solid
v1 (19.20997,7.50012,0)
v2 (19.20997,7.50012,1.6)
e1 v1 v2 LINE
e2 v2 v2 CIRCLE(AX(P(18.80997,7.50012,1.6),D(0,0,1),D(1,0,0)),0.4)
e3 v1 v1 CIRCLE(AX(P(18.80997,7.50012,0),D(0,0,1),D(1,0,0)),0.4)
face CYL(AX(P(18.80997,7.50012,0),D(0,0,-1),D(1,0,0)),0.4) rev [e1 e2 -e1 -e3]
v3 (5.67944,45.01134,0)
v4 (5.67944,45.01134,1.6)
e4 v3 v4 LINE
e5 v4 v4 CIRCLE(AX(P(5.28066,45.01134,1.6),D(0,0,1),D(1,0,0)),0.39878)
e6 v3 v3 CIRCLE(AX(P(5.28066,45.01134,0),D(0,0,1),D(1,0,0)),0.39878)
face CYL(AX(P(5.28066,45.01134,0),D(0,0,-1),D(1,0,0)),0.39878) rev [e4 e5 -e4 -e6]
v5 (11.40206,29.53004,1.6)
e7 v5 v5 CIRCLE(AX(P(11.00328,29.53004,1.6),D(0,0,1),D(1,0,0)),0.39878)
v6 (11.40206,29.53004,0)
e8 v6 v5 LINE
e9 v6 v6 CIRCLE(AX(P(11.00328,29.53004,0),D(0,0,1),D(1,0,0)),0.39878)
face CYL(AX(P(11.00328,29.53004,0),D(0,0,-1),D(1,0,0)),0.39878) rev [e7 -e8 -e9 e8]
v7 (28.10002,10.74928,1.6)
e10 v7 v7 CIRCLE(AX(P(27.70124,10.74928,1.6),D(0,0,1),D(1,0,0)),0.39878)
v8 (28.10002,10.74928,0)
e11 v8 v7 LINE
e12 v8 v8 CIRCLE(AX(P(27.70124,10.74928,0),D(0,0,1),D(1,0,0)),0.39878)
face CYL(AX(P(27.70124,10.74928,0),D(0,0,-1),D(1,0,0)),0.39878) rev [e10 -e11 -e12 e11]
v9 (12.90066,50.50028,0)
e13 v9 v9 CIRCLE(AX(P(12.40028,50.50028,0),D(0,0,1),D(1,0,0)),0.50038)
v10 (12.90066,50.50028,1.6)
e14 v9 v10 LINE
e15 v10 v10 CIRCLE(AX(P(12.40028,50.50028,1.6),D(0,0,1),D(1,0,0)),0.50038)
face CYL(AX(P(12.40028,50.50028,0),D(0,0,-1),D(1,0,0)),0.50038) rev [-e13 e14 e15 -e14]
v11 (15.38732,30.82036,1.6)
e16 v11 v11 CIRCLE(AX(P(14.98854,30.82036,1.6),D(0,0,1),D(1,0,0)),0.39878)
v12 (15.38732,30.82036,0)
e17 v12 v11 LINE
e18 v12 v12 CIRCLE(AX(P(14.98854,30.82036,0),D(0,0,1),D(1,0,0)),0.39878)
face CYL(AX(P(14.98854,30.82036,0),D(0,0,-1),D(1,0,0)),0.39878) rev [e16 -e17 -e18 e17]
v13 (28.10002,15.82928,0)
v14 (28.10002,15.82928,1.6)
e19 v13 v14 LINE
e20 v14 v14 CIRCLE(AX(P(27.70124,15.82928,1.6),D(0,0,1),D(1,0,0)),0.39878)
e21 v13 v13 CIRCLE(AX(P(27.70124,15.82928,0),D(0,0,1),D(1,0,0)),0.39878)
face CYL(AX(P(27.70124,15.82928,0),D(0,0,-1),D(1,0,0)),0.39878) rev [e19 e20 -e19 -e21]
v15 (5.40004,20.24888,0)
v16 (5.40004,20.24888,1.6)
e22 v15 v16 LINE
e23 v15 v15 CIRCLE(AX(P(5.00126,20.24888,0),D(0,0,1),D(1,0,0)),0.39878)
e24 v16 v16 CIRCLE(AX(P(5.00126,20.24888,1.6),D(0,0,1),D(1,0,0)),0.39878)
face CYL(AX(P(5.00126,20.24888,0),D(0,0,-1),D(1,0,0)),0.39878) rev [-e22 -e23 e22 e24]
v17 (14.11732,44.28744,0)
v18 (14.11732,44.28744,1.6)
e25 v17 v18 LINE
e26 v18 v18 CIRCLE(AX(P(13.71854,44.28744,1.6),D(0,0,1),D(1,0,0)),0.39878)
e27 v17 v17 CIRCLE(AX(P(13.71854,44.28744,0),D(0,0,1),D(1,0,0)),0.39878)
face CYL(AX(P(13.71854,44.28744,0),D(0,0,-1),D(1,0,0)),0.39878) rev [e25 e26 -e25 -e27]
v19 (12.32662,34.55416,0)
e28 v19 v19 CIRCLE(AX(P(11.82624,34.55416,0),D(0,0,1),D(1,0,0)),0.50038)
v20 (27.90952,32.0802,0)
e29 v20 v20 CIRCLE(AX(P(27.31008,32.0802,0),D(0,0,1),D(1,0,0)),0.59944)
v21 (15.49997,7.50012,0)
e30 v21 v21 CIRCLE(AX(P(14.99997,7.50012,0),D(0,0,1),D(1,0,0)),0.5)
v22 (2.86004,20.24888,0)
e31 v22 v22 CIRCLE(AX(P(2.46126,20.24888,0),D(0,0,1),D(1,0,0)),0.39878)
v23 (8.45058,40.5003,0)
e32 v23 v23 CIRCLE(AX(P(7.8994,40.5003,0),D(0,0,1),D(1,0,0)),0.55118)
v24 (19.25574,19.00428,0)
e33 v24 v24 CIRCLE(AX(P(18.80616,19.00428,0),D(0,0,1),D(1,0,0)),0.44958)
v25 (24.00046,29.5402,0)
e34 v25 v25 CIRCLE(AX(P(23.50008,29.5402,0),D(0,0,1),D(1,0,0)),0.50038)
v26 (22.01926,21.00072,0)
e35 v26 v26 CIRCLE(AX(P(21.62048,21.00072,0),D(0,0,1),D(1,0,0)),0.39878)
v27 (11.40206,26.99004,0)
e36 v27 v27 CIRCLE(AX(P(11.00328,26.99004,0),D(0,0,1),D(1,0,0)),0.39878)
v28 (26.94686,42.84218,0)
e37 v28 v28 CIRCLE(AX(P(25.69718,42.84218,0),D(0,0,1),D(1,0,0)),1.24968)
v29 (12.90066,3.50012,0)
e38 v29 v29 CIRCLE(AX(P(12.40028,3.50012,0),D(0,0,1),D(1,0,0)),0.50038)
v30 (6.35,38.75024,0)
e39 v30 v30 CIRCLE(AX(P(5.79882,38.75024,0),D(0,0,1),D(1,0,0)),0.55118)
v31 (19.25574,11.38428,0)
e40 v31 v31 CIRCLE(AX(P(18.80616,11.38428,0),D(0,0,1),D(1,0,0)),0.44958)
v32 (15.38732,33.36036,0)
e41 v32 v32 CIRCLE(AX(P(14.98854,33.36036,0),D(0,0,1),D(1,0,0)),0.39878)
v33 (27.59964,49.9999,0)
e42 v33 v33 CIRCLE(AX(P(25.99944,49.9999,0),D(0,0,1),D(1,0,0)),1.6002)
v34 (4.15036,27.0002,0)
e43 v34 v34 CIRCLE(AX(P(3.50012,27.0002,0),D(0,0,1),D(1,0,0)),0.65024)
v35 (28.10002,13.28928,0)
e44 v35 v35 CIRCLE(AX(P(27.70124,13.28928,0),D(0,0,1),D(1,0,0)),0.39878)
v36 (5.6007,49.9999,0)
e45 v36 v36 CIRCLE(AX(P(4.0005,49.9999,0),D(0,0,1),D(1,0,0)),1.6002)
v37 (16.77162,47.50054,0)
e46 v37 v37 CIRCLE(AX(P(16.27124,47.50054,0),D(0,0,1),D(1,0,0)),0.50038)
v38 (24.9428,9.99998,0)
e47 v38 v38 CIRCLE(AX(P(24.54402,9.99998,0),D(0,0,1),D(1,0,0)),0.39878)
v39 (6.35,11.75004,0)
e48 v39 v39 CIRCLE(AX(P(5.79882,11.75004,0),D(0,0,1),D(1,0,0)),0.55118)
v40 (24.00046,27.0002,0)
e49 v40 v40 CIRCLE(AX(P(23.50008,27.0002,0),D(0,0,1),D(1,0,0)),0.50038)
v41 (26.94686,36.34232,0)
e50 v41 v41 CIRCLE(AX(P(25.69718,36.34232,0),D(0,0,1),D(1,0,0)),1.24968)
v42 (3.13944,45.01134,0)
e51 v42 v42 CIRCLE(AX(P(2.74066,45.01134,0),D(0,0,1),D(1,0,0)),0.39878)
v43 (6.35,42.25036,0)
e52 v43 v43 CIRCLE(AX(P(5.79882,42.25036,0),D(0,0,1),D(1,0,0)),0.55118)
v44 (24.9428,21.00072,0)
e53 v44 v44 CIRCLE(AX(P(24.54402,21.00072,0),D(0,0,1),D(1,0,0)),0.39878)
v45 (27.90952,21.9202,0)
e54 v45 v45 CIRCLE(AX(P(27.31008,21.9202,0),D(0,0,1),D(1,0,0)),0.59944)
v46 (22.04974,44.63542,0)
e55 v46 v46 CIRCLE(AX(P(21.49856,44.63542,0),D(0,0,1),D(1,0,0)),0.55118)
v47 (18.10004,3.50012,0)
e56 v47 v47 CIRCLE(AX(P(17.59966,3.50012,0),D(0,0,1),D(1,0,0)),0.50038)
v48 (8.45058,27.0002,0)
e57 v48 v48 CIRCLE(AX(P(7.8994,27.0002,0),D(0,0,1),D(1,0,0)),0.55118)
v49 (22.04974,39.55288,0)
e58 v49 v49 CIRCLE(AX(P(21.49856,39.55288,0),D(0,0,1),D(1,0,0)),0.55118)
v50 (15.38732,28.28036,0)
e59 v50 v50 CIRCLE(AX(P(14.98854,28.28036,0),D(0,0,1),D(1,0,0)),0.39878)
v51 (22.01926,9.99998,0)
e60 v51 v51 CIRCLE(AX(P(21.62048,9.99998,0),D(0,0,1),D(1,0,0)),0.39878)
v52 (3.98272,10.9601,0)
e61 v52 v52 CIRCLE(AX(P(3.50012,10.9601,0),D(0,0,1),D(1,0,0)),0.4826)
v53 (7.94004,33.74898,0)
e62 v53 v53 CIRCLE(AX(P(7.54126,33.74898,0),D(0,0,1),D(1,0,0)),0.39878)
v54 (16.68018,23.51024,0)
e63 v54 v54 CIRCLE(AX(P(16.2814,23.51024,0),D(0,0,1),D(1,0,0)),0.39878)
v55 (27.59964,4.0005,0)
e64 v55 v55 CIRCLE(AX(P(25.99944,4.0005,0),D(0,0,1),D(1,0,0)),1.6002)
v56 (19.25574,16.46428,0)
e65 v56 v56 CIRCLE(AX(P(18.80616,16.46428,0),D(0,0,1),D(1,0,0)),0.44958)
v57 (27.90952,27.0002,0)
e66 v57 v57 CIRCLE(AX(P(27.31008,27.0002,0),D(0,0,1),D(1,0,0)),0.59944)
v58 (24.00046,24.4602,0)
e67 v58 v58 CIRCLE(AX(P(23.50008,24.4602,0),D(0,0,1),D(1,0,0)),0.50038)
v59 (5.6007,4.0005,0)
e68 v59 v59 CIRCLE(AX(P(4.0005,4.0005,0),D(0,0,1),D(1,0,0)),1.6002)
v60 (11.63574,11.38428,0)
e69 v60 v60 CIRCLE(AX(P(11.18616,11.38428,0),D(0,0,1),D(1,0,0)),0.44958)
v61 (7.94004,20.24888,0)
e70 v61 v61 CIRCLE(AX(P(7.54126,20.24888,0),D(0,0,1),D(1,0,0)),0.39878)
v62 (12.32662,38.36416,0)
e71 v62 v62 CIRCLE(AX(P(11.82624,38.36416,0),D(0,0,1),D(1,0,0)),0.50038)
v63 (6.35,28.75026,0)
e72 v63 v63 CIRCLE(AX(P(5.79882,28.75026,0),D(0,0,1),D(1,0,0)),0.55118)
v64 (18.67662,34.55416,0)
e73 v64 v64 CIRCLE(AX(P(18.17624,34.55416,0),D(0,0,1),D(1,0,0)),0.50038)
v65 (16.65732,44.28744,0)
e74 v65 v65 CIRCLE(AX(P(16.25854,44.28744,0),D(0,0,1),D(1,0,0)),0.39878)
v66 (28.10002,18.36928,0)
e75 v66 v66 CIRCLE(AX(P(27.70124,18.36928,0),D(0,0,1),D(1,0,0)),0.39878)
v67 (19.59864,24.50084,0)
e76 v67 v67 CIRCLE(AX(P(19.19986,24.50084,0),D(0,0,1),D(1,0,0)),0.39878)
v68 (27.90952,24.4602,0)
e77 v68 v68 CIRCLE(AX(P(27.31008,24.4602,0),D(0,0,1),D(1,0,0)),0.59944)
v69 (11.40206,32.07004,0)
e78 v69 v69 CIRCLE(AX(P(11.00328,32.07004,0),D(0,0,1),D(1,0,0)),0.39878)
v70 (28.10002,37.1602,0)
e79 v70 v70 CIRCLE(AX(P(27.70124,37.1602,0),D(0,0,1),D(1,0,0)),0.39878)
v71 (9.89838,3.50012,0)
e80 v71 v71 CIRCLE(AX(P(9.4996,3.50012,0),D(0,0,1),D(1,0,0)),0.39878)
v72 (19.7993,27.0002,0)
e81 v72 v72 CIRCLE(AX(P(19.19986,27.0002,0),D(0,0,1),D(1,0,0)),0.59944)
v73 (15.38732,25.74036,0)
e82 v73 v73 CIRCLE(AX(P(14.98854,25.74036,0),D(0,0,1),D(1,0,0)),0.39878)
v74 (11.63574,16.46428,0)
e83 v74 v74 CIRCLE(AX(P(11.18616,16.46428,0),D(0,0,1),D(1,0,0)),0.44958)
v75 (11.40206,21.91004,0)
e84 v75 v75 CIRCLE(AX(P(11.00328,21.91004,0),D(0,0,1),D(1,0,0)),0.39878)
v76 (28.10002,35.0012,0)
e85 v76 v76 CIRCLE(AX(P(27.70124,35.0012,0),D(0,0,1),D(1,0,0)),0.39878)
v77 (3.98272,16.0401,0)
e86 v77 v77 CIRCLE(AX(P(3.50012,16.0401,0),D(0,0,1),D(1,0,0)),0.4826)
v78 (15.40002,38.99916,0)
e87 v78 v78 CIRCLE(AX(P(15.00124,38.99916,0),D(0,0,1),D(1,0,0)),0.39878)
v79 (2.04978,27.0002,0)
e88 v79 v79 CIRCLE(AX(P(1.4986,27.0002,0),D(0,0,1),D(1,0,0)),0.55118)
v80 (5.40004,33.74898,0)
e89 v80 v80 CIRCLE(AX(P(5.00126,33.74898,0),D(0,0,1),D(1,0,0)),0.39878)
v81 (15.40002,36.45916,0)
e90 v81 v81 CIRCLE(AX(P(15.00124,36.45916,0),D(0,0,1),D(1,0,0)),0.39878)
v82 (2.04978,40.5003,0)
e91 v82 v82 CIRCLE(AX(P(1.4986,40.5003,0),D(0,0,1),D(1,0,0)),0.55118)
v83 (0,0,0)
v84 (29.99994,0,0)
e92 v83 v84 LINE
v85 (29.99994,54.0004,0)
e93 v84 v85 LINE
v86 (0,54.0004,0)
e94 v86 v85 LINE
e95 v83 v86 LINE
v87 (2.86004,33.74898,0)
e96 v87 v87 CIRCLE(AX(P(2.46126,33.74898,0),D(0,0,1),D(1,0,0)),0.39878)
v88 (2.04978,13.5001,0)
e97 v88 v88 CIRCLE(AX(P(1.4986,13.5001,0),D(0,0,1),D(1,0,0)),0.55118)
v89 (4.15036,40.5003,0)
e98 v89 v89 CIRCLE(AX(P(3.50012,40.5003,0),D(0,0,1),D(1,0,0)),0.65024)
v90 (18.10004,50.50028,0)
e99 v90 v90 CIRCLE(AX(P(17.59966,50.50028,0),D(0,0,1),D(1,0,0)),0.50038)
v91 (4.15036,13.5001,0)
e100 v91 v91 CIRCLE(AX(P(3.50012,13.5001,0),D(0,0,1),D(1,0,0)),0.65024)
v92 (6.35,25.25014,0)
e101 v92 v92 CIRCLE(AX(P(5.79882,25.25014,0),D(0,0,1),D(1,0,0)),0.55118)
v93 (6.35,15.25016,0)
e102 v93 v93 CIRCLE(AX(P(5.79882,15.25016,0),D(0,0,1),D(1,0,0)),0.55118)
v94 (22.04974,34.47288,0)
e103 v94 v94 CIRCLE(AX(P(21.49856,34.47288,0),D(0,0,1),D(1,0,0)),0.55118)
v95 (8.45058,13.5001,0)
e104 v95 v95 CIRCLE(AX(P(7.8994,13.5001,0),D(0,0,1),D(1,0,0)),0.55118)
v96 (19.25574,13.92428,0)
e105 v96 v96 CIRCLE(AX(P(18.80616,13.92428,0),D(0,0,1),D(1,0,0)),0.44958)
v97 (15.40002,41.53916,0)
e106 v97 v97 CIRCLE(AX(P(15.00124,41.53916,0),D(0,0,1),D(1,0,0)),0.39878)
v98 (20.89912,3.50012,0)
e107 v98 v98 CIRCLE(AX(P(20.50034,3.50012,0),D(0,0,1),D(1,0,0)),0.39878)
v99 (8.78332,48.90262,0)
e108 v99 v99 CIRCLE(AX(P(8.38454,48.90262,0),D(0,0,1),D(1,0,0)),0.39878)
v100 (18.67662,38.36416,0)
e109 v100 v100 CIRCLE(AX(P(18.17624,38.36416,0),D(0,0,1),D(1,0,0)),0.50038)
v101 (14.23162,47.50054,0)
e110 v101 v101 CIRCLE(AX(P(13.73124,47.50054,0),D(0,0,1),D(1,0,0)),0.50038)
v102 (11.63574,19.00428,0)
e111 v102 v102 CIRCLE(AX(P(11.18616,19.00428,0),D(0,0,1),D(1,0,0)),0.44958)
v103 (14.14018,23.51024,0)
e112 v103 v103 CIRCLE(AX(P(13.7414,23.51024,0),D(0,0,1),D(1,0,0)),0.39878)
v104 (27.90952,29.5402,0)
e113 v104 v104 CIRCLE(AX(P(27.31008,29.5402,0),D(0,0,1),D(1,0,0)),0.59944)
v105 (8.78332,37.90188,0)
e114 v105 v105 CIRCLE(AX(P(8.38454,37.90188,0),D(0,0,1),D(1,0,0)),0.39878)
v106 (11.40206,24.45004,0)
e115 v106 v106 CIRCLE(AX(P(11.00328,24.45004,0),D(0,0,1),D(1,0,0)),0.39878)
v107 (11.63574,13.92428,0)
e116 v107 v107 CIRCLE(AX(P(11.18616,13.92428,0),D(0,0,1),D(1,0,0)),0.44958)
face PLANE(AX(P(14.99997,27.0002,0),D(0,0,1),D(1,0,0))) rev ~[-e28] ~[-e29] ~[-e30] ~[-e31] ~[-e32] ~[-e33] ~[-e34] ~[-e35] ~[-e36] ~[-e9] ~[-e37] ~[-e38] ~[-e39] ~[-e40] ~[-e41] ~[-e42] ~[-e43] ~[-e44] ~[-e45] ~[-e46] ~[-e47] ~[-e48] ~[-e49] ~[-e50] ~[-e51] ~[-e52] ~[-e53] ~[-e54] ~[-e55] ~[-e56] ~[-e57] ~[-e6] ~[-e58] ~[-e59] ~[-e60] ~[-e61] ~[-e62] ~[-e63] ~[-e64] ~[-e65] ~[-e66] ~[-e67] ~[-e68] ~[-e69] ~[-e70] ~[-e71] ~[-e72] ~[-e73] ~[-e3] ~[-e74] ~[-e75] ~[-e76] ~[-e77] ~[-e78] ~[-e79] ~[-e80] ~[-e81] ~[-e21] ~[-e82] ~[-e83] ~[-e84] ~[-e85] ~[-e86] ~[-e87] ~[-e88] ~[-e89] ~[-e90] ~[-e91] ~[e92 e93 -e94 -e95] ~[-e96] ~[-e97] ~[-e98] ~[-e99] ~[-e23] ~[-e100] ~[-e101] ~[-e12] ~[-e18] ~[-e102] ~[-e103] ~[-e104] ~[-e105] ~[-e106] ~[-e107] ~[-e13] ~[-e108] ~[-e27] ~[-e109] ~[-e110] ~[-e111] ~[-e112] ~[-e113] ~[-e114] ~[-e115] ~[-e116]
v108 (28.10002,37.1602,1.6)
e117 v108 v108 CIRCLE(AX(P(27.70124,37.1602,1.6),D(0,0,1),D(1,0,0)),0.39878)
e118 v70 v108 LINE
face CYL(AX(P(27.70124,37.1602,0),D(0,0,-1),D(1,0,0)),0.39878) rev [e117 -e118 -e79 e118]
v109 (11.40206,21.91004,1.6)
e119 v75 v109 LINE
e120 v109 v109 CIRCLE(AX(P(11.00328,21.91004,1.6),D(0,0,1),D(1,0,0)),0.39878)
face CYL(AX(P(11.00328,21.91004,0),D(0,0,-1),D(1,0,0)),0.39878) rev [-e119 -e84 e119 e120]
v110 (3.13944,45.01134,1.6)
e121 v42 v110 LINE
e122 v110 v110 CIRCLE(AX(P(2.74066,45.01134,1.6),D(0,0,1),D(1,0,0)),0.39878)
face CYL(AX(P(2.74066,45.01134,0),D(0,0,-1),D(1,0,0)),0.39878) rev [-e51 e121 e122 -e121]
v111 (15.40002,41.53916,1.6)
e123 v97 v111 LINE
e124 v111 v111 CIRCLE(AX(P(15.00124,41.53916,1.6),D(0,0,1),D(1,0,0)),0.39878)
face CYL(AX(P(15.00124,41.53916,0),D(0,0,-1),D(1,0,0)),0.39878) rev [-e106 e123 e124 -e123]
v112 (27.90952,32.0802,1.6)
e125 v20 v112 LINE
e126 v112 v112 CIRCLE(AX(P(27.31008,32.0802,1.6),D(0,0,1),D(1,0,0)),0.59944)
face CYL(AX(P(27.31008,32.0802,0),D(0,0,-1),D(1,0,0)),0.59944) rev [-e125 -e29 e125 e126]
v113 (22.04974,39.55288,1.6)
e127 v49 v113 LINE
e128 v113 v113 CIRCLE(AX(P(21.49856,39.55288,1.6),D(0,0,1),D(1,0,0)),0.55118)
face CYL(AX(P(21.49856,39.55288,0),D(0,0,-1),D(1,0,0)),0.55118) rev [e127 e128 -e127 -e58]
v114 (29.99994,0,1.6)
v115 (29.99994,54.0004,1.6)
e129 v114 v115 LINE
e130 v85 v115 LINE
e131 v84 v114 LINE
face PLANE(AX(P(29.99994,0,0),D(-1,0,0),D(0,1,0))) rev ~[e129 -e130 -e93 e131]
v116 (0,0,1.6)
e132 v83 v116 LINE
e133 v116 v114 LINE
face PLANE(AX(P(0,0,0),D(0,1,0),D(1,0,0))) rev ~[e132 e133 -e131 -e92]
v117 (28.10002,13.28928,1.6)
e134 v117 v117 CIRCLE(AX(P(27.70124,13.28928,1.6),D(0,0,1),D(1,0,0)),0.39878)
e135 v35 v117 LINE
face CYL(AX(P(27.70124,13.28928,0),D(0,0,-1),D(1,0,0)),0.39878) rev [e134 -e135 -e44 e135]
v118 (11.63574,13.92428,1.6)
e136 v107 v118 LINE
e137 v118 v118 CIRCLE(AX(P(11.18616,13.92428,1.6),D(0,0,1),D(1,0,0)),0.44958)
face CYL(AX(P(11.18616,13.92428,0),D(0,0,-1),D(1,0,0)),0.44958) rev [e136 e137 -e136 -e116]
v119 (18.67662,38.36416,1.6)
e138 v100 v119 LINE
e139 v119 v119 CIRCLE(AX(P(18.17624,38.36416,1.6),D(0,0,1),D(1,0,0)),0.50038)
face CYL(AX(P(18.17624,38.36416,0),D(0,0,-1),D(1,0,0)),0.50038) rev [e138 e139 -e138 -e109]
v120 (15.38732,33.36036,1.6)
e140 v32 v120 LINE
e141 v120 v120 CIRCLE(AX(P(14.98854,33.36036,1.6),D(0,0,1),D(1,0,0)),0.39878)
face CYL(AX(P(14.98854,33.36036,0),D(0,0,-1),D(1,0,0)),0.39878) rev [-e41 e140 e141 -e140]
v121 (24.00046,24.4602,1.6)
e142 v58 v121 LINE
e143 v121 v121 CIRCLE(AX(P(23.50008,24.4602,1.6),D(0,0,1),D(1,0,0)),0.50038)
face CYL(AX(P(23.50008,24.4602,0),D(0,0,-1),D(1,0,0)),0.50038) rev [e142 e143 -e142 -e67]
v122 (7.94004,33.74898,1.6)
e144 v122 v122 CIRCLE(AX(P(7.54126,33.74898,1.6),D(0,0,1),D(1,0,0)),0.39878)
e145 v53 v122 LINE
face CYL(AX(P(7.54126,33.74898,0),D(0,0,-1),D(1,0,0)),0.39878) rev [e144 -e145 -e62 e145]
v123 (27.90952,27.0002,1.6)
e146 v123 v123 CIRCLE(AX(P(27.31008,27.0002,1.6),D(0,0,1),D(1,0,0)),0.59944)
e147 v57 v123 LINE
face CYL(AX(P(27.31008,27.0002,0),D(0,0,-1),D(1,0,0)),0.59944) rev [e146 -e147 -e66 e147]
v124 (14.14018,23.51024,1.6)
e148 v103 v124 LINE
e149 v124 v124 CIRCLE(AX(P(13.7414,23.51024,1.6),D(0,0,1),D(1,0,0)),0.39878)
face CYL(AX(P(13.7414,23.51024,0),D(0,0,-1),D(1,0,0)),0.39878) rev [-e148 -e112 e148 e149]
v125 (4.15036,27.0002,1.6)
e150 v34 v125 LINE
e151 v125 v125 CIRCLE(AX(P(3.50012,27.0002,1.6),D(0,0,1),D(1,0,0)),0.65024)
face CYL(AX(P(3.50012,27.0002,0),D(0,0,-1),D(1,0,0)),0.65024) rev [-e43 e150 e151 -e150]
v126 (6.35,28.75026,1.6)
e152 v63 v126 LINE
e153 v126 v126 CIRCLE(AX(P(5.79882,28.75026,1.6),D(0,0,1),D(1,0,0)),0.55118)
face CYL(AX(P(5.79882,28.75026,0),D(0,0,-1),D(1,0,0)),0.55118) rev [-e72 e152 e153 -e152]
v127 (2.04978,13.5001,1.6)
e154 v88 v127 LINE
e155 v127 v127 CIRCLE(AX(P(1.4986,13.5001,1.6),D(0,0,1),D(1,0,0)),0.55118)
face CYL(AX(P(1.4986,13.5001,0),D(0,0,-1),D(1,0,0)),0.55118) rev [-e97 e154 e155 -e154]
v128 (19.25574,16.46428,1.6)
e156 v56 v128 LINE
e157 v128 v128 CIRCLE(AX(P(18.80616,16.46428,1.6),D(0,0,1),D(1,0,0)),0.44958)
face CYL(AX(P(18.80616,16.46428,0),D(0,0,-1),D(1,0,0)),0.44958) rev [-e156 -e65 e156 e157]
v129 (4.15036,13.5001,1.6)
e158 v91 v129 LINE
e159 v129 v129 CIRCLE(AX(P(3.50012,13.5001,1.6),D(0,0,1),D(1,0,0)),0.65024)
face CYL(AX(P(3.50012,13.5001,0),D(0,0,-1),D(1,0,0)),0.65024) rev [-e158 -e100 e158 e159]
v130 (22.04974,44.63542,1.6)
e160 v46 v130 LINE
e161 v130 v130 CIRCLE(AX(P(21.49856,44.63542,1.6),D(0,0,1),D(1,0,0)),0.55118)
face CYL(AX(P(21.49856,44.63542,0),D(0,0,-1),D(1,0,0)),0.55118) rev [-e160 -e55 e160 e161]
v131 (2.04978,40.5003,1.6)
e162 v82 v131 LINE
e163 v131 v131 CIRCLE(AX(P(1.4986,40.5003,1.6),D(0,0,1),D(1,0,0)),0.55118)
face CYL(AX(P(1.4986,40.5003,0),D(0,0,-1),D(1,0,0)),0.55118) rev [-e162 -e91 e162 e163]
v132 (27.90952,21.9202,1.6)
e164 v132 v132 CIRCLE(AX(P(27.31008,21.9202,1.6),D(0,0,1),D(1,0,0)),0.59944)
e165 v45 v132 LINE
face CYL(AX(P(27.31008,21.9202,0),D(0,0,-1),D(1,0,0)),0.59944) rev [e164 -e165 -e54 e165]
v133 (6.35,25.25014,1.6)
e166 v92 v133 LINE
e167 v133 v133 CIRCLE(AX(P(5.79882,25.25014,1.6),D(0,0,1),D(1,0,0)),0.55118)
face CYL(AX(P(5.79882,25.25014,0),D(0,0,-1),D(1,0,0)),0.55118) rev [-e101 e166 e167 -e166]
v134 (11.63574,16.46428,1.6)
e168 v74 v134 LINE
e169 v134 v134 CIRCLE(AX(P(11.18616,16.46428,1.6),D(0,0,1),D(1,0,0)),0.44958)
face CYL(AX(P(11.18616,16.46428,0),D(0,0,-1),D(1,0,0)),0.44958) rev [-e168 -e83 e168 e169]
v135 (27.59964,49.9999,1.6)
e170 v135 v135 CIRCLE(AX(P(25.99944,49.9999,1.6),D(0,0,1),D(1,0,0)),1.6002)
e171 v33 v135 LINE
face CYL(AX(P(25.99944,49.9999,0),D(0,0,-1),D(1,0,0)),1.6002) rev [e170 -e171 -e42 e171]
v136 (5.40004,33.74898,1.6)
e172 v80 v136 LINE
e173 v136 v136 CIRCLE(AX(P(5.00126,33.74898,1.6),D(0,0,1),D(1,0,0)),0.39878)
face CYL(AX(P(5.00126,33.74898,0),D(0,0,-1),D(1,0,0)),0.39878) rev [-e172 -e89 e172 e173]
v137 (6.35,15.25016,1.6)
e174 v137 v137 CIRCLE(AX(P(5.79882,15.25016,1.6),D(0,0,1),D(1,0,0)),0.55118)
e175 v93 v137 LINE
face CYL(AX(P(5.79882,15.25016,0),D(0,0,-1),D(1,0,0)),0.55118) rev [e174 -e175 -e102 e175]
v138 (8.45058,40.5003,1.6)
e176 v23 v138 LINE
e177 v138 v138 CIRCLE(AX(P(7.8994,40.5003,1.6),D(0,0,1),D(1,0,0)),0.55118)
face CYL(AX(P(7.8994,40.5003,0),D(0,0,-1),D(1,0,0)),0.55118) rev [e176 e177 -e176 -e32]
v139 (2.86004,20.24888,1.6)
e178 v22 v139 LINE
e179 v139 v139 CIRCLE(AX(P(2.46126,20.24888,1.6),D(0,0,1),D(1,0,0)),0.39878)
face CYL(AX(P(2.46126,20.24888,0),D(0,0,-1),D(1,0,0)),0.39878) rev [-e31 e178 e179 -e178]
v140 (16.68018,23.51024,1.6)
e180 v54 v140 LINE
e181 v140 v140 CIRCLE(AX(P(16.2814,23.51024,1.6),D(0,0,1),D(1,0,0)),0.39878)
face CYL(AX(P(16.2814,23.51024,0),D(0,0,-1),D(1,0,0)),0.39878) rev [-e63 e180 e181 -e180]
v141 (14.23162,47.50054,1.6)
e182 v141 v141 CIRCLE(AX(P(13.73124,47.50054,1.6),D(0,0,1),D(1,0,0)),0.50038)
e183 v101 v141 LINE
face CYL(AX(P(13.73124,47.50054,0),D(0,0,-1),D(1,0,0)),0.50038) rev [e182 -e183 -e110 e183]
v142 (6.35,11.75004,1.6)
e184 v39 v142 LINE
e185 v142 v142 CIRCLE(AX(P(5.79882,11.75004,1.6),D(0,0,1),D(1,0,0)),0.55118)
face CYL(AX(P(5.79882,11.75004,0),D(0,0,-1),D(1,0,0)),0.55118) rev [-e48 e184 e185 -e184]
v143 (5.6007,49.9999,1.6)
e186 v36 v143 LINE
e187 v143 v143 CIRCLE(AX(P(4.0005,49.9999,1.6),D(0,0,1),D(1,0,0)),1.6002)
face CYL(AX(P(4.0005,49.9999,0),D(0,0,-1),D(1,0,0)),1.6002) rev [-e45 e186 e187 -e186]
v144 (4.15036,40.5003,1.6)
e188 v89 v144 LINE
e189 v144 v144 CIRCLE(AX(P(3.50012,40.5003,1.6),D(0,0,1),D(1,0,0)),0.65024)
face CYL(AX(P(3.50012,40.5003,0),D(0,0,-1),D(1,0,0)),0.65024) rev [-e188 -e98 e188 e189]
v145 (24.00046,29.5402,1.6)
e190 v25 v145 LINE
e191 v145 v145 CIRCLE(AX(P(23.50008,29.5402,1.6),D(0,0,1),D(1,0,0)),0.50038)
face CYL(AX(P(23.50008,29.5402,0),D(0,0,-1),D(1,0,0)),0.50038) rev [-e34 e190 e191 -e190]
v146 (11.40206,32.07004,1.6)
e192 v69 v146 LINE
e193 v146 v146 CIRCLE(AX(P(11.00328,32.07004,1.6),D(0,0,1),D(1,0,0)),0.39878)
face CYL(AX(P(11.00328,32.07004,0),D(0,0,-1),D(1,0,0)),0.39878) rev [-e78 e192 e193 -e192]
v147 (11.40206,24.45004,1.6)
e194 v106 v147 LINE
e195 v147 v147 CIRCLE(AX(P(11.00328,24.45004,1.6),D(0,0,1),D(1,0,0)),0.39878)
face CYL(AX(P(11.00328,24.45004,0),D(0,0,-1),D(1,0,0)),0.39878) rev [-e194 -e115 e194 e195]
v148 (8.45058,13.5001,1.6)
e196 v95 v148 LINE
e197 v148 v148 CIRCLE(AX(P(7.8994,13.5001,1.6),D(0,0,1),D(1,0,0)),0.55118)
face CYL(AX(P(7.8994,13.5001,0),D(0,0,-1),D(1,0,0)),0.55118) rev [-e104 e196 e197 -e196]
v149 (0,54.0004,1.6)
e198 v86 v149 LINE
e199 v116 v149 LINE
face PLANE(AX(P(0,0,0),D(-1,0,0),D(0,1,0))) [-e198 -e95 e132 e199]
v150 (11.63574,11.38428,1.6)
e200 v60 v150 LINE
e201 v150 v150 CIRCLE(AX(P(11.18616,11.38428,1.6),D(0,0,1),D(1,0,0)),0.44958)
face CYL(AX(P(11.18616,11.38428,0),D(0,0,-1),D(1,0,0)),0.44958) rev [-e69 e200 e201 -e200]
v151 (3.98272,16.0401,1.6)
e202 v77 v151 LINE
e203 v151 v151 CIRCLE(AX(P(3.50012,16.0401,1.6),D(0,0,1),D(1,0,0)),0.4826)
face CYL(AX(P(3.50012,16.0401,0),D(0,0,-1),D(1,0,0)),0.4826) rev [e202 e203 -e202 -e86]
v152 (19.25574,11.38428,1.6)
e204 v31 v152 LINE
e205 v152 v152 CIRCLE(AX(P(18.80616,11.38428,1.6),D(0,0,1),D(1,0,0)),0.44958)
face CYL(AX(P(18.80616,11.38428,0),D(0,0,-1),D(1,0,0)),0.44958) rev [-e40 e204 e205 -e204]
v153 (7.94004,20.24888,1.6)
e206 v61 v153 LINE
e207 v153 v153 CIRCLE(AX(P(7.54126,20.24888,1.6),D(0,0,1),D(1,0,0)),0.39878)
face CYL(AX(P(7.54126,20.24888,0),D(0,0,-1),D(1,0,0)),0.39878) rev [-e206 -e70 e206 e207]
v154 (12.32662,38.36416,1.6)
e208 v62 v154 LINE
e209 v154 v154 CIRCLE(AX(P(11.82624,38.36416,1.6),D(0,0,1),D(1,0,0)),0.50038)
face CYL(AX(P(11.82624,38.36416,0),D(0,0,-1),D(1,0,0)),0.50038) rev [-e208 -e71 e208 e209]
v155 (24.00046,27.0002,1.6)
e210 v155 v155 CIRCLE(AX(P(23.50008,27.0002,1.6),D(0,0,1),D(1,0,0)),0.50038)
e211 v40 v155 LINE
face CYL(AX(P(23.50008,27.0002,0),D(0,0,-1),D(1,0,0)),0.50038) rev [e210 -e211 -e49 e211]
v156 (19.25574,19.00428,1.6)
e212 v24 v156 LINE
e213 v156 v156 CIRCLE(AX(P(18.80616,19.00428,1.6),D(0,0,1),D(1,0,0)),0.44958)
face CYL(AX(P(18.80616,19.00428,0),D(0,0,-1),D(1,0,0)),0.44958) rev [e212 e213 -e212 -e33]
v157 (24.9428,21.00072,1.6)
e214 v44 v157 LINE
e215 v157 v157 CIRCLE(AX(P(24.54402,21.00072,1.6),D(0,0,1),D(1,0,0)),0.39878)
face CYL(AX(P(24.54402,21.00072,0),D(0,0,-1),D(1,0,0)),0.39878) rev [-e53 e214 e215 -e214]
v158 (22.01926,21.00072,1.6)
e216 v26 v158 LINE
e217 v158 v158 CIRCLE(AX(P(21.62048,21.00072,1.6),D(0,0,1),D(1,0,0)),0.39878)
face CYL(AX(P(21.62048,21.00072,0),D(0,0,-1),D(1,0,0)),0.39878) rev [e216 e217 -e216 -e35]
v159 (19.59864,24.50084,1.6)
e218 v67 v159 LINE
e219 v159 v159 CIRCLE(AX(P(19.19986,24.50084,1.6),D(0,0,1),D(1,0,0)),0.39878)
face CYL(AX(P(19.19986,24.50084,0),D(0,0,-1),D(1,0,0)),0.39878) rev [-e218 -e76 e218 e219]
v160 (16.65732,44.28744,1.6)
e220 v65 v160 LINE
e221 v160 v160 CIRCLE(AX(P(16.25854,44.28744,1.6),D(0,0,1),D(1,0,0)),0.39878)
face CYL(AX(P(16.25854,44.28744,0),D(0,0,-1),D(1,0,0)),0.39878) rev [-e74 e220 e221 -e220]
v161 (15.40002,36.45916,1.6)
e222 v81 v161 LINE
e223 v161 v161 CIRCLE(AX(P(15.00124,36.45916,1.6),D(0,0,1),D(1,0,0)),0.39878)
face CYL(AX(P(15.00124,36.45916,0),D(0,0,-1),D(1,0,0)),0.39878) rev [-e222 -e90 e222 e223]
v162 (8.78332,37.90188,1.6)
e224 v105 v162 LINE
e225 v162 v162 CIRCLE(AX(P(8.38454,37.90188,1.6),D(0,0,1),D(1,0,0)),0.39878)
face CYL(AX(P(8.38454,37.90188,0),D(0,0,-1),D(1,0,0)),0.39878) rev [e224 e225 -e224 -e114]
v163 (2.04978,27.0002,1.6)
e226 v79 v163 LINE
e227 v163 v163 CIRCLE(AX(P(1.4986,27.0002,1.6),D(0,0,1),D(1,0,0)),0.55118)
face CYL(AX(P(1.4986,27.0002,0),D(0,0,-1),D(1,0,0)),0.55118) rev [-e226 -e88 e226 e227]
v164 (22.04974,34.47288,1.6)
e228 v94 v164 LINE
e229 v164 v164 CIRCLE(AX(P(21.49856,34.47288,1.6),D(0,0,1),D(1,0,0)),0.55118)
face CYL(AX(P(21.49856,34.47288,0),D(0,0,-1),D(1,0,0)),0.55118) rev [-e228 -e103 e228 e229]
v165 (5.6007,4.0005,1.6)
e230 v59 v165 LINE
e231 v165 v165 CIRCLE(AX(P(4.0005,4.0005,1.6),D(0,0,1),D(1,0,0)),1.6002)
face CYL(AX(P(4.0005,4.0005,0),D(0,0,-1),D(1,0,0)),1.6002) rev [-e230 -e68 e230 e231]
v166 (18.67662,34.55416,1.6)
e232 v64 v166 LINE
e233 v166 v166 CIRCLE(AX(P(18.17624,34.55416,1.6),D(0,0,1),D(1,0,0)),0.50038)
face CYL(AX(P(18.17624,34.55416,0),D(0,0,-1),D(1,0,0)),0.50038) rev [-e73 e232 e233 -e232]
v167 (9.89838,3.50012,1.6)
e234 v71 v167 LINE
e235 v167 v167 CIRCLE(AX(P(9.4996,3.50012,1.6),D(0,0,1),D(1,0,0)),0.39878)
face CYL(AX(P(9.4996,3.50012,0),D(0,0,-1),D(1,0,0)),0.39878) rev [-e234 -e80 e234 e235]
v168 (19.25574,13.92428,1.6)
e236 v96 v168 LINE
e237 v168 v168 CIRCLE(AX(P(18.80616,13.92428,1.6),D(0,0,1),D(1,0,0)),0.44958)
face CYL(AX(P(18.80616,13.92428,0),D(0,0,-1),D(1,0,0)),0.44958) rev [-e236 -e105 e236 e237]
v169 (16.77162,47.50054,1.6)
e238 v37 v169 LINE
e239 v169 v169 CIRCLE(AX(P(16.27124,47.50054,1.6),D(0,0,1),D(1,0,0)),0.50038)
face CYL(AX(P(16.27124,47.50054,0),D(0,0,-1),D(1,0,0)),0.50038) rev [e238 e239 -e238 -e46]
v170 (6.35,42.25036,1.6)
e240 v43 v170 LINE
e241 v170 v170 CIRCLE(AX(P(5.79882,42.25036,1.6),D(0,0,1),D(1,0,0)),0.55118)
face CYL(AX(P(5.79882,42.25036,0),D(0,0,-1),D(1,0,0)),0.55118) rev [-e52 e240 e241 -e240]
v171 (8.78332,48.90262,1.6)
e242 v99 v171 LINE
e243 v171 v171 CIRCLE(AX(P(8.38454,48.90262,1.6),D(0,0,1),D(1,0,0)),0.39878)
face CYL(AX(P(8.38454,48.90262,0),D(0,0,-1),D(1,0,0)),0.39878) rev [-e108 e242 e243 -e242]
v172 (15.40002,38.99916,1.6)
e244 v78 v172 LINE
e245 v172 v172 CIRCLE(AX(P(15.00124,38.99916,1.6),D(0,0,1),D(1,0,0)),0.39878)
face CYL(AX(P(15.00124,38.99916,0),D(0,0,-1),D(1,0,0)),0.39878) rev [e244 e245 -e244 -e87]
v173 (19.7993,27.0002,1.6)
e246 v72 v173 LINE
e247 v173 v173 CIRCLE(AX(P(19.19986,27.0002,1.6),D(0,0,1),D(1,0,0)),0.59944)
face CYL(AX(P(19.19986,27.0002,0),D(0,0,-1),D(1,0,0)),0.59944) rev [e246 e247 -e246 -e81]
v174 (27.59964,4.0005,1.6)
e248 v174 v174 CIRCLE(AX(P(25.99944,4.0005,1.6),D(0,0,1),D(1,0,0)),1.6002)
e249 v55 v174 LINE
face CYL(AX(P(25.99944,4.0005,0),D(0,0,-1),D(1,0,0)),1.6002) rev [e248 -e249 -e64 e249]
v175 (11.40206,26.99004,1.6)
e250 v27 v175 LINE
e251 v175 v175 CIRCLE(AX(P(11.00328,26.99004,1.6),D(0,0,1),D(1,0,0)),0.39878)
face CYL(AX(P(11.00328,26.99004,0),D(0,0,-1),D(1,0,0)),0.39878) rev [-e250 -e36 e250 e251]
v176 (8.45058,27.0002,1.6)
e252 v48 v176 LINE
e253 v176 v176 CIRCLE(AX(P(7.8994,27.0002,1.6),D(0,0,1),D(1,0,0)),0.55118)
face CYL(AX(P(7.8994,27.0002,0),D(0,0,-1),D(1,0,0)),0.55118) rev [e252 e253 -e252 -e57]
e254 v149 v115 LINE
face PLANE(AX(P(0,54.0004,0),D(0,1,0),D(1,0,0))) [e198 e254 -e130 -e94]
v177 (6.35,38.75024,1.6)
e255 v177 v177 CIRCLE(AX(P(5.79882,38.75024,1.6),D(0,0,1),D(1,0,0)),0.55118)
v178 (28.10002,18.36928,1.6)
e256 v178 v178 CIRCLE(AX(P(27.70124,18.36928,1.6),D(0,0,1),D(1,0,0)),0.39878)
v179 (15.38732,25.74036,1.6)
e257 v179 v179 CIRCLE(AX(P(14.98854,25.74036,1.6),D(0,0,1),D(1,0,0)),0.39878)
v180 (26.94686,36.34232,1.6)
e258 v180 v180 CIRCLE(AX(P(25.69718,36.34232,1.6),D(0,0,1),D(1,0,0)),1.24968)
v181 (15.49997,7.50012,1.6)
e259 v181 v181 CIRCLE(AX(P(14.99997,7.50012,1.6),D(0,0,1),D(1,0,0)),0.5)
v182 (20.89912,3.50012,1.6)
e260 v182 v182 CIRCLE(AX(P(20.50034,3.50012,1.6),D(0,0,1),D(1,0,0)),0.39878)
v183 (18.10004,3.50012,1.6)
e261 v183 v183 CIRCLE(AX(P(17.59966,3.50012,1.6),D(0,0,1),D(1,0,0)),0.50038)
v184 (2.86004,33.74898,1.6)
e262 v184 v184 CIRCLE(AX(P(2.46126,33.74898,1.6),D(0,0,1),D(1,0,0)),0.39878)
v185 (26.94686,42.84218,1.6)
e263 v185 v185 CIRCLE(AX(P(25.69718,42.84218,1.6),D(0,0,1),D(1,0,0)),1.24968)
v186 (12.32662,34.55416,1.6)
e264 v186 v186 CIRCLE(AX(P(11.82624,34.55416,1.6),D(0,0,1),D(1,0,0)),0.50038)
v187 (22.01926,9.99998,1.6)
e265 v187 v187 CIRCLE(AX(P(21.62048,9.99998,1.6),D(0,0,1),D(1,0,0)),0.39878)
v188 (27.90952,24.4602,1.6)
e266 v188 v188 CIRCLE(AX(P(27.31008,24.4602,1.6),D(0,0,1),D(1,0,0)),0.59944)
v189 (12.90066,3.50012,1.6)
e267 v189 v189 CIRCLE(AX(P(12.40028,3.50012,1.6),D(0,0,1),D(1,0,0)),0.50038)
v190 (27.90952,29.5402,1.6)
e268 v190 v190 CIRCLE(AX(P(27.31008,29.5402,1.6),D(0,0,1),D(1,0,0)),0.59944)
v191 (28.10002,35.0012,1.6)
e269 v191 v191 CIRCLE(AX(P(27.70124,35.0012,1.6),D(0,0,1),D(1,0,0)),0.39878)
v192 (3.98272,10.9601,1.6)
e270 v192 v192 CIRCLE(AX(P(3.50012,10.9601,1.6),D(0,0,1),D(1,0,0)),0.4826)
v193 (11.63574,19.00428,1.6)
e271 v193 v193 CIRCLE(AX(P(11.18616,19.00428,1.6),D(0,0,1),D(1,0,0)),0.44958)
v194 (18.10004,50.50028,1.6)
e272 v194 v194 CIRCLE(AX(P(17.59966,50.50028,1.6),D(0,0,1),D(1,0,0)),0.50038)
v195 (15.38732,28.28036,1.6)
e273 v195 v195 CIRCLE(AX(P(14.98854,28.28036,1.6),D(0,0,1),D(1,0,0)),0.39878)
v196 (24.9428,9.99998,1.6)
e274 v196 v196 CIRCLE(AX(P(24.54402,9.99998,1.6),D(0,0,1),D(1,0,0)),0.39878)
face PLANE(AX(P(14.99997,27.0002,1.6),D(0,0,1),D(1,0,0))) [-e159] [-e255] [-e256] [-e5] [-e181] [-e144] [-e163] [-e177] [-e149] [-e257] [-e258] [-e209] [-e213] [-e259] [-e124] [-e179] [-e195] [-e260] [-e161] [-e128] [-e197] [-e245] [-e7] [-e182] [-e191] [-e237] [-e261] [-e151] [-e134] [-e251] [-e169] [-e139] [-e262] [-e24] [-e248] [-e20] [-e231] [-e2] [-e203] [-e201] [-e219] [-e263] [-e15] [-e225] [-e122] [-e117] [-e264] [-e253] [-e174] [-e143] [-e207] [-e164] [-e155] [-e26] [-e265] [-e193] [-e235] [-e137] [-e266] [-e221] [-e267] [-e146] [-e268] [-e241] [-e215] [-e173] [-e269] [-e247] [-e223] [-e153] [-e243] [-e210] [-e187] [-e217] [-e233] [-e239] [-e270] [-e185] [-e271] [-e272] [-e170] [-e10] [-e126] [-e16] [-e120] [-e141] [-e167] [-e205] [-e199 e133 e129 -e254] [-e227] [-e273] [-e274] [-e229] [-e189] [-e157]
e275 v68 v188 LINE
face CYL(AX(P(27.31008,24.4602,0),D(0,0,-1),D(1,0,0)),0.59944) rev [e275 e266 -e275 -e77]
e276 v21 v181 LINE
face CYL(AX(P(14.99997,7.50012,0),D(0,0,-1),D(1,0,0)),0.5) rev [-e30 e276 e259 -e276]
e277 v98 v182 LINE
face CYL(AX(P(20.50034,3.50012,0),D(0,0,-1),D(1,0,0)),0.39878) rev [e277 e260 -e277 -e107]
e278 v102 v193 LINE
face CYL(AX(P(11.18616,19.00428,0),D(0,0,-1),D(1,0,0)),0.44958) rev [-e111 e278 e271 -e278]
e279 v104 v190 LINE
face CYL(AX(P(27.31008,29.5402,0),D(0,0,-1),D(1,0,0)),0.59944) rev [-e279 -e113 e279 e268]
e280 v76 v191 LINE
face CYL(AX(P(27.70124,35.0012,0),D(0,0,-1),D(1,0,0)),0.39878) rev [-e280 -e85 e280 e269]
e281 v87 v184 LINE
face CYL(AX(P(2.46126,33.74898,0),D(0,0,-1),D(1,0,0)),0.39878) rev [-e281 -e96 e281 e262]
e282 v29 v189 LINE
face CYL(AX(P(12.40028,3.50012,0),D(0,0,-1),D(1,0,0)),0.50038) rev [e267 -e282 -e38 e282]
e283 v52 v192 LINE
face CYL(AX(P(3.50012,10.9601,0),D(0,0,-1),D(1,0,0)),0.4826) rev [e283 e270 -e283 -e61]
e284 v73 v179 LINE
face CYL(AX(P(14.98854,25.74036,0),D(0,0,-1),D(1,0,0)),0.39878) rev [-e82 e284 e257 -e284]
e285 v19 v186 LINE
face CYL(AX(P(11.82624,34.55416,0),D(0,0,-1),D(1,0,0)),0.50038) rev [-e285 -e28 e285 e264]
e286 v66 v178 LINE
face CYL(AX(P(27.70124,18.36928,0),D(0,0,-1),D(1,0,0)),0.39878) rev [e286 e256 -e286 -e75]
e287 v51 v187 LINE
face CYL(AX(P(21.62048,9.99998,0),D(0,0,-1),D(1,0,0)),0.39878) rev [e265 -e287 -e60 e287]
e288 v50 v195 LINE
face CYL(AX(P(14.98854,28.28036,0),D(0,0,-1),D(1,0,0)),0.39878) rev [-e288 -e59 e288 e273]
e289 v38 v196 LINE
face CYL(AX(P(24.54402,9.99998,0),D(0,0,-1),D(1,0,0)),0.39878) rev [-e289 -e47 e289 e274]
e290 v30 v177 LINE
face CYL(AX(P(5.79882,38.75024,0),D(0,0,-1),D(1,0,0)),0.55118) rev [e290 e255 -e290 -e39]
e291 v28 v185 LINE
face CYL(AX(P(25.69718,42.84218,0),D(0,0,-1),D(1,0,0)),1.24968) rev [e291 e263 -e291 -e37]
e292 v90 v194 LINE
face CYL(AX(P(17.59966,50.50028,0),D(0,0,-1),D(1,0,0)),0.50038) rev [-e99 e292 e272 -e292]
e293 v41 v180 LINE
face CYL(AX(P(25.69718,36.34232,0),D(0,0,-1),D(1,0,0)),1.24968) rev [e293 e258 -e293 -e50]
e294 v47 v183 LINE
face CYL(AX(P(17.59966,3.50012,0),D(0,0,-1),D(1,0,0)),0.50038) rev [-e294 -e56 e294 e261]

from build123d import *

# Parameters (mm, degrees)
ESQUISSE1_W      = 29.99994
ESQUISSE1_H      = 54.0004
ESQUISSE1_R      = 0.50038
ESQUISSE1_R_2    = 0.4826
ESQUISSE1_R_3    = 0.39878
ESQUISSE1_R_4    = 0.55118
ESQUISSE1_R_5    = 0.65024
ESQUISSE1_R_6    = 1.6002
ESQUISSE1_R_7    = 0.44958
ESQUISSE1_R_8    = 1.24968
ESQUISSE1_R_9    = 0.59944
ESQUISSE1_R_10   = 0.5
ESQUISSE1_R_11   = 0.4
EXTRUSION1_DEPTH = 1.6


with BuildPart() as part:
    # Esquisse1 → Extrusion1 (new body)
    with BuildSketch(Plane.XY):
        with Locations((14.99997, 27.0002)):
            Rectangle(ESQUISSE1_W, ESQUISSE1_H)
        with Locations((18.17624, 38.36416)):
            Circle(ESQUISSE1_R, mode=Mode.SUBTRACT)
        with Locations((18.17624, 34.55416)):
            Circle(ESQUISSE1_R, mode=Mode.SUBTRACT)
        with Locations((11.82624, 34.55416)):
            Circle(ESQUISSE1_R, mode=Mode.SUBTRACT)
        with Locations((11.82624, 38.36416)):
            Circle(ESQUISSE1_R, mode=Mode.SUBTRACT)
        with Locations((17.59966, 3.50012)):
            Circle(ESQUISSE1_R, mode=Mode.SUBTRACT)
        with Locations((12.40028, 3.50012)):
            Circle(ESQUISSE1_R, mode=Mode.SUBTRACT)
        with Locations((12.40028, 50.50028)):
            Circle(ESQUISSE1_R, mode=Mode.SUBTRACT)
        with Locations((17.59966, 50.50028)):
            Circle(ESQUISSE1_R, mode=Mode.SUBTRACT)
        with Locations((3.50012, 10.9601)):
            Circle(ESQUISSE1_R_2, mode=Mode.SUBTRACT)
        with Locations((3.50012, 16.0401)):
            Circle(ESQUISSE1_R_2, mode=Mode.SUBTRACT)
        with Locations((14.98854, 30.82036)):
            Circle(ESQUISSE1_R_3, mode=Mode.SUBTRACT)
        with Locations((14.98854, 33.36036)):
            Circle(ESQUISSE1_R_3, mode=Mode.SUBTRACT)
        with Locations((16.27124, 47.50054)):
            Circle(ESQUISSE1_R, mode=Mode.SUBTRACT)
        with Locations((13.73124, 47.50054)):
            Circle(ESQUISSE1_R, mode=Mode.SUBTRACT)
        with Locations((27.70124, 13.28928)):
            Circle(ESQUISSE1_R_3, mode=Mode.SUBTRACT)
        with Locations((27.70124, 10.74928)):
            Circle(ESQUISSE1_R_3, mode=Mode.SUBTRACT)
        with Locations((1.4986, 13.5001)):
            Circle(ESQUISSE1_R_4, mode=Mode.SUBTRACT)
        with Locations((7.8994, 13.5001)):
            Circle(ESQUISSE1_R_4, mode=Mode.SUBTRACT)
        with Locations((5.79882, 11.75004)):
            Circle(ESQUISSE1_R_4, mode=Mode.SUBTRACT)
        with Locations((5.79882, 15.25016)):
            Circle(ESQUISSE1_R_4, mode=Mode.SUBTRACT)
        with Locations((3.50012, 13.5001)):
            Circle(ESQUISSE1_R_5, mode=Mode.SUBTRACT)
        with Locations((1.4986, 27.0002)):
            Circle(ESQUISSE1_R_4, mode=Mode.SUBTRACT)
        with Locations((7.8994, 27.0002)):
            Circle(ESQUISSE1_R_4, mode=Mode.SUBTRACT)
        with Locations((5.79882, 25.25014)):
            Circle(ESQUISSE1_R_4, mode=Mode.SUBTRACT)
        with Locations((5.79882, 28.75026)):
            Circle(ESQUISSE1_R_4, mode=Mode.SUBTRACT)
        with Locations((3.50012, 27.0002)):
            Circle(ESQUISSE1_R_5, mode=Mode.SUBTRACT)
        with Locations((1.4986, 40.5003)):
            Circle(ESQUISSE1_R_4, mode=Mode.SUBTRACT)
        with Locations((7.8994, 40.5003)):
            Circle(ESQUISSE1_R_4, mode=Mode.SUBTRACT)
        with Locations((5.79882, 38.75024)):
            Circle(ESQUISSE1_R_4, mode=Mode.SUBTRACT)
        with Locations((5.79882, 42.25036)):
            Circle(ESQUISSE1_R_4, mode=Mode.SUBTRACT)
        with Locations((3.50012, 40.5003)):
            Circle(ESQUISSE1_R_5, mode=Mode.SUBTRACT)
        with Locations((15.00124, 36.45916)):
            Circle(ESQUISSE1_R_3, mode=Mode.SUBTRACT)
        with Locations((15.00124, 41.53916)):
            Circle(ESQUISSE1_R_3, mode=Mode.SUBTRACT)
        with Locations((4.0005, 49.9999)):
            Circle(ESQUISSE1_R_6, mode=Mode.SUBTRACT)
        with Locations((25.99944, 49.9999)):
            Circle(ESQUISSE1_R_6, mode=Mode.SUBTRACT)
        with Locations((4.0005, 4.0005)):
            Circle(ESQUISSE1_R_6, mode=Mode.SUBTRACT)
        with Locations((25.99944, 4.0005)):
            Circle(ESQUISSE1_R_6, mode=Mode.SUBTRACT)
        with Locations((18.80616, 11.38428)):
            Circle(ESQUISSE1_R_7, mode=Mode.SUBTRACT)
        with Locations((18.80616, 13.92428)):
            Circle(ESQUISSE1_R_7, mode=Mode.SUBTRACT)
        with Locations((18.80616, 16.46428)):
            Circle(ESQUISSE1_R_7, mode=Mode.SUBTRACT)
        with Locations((18.80616, 19.00428)):
            Circle(ESQUISSE1_R_7, mode=Mode.SUBTRACT)
        with Locations((11.18616, 19.00428)):
            Circle(ESQUISSE1_R_7, mode=Mode.SUBTRACT)
        with Locations((11.18616, 16.46428)):
            Circle(ESQUISSE1_R_7, mode=Mode.SUBTRACT)
        with Locations((11.18616, 13.92428)):
            Circle(ESQUISSE1_R_7, mode=Mode.SUBTRACT)
        with Locations((11.18616, 11.38428)):
            Circle(ESQUISSE1_R_7, mode=Mode.SUBTRACT)
        with Locations((2.46126, 33.74898)):
            Circle(ESQUISSE1_R_3, mode=Mode.SUBTRACT)
        with Locations((5.00126, 33.74898)):
            Circle(ESQUISSE1_R_3, mode=Mode.SUBTRACT)
        with Locations((7.54126, 33.74898)):
            Circle(ESQUISSE1_R_3, mode=Mode.SUBTRACT)
        with Locations((2.46126, 20.24888)):
            Circle(ESQUISSE1_R_3, mode=Mode.SUBTRACT)
        with Locations((5.00126, 20.24888)):
            Circle(ESQUISSE1_R_3, mode=Mode.SUBTRACT)
        with Locations((7.54126, 20.24888)):
            Circle(ESQUISSE1_R_3, mode=Mode.SUBTRACT)
        with Locations((5.28066, 45.01134)):
            Circle(ESQUISSE1_R_3, mode=Mode.SUBTRACT)
        with Locations((2.74066, 45.01134)):
            Circle(ESQUISSE1_R_3, mode=Mode.SUBTRACT)
        with Locations((14.98854, 28.28036)):
            Circle(ESQUISSE1_R_3, mode=Mode.SUBTRACT)
        with Locations((14.98854, 25.74036)):
            Circle(ESQUISSE1_R_3, mode=Mode.SUBTRACT)
        with Locations((16.2814, 23.51024)):
            Circle(ESQUISSE1_R_3, mode=Mode.SUBTRACT)
        with Locations((13.7414, 23.51024)):
            Circle(ESQUISSE1_R_3, mode=Mode.SUBTRACT)
        with Locations((13.71854, 44.28744)):
            Circle(ESQUISSE1_R_3, mode=Mode.SUBTRACT)
        with Locations((16.25854, 44.28744)):
            Circle(ESQUISSE1_R_3, mode=Mode.SUBTRACT)
        with Locations((21.49856, 44.63542)):
            Circle(ESQUISSE1_R_4, mode=Mode.SUBTRACT)
        with Locations((21.49856, 39.55288)):
            Circle(ESQUISSE1_R_4, mode=Mode.SUBTRACT)
        with Locations((21.49856, 34.47288)):
            Circle(ESQUISSE1_R_4, mode=Mode.SUBTRACT)
        with Locations((25.69718, 42.84218)):
            Circle(ESQUISSE1_R_8, mode=Mode.SUBTRACT)
        with Locations((25.69718, 36.34232)):
            Circle(ESQUISSE1_R_8, mode=Mode.SUBTRACT)
        with Locations((23.50008, 29.5402)):
            Circle(ESQUISSE1_R, mode=Mode.SUBTRACT)
        with Locations((23.50008, 27.0002)):
            Circle(ESQUISSE1_R, mode=Mode.SUBTRACT)
        with Locations((23.50008, 24.4602)):
            Circle(ESQUISSE1_R, mode=Mode.SUBTRACT)
        with Locations((20.50034, 3.50012)):
            Circle(ESQUISSE1_R_3, mode=Mode.SUBTRACT)
        with Locations((9.4996, 3.50012)):
            Circle(ESQUISSE1_R_3, mode=Mode.SUBTRACT)
        with Locations((8.38454, 48.90262)):
            Circle(ESQUISSE1_R_3, mode=Mode.SUBTRACT)
        with Locations((8.38454, 37.90188)):
            Circle(ESQUISSE1_R_3, mode=Mode.SUBTRACT)
        with Locations((21.62048, 9.99998)):
            Circle(ESQUISSE1_R_3, mode=Mode.SUBTRACT)
        with Locations((21.62048, 21.00072)):
            Circle(ESQUISSE1_R_3, mode=Mode.SUBTRACT)
        with Locations((24.54402, 9.99998)):
            Circle(ESQUISSE1_R_3, mode=Mode.SUBTRACT)
        with Locations((24.54402, 21.00072)):
            Circle(ESQUISSE1_R_3, mode=Mode.SUBTRACT)
        with Locations((27.70124, 15.82928)):
            Circle(ESQUISSE1_R_3, mode=Mode.SUBTRACT)
        with Locations((27.70124, 37.1602)):
            Circle(ESQUISSE1_R_3, mode=Mode.SUBTRACT)
        with Locations((27.70124, 18.36928)):
            Circle(ESQUISSE1_R_3, mode=Mode.SUBTRACT)
        with Locations((27.70124, 35.0012)):
            Circle(ESQUISSE1_R_3, mode=Mode.SUBTRACT)
        with Locations((27.31008, 27.0002)):
            Circle(ESQUISSE1_R_9, mode=Mode.SUBTRACT)
        with Locations((27.31008, 29.5402)):
            Circle(ESQUISSE1_R_9, mode=Mode.SUBTRACT)
        with Locations((27.31008, 32.0802)):
            Circle(ESQUISSE1_R_9, mode=Mode.SUBTRACT)
        with Locations((27.31008, 24.4602)):
            Circle(ESQUISSE1_R_9, mode=Mode.SUBTRACT)
        with Locations((27.31008, 21.9202)):
            Circle(ESQUISSE1_R_9, mode=Mode.SUBTRACT)
        with Locations((19.19986, 27.0002)):
            Circle(ESQUISSE1_R_9, mode=Mode.SUBTRACT)
        with Locations((19.19986, 24.50084)):
            Circle(ESQUISSE1_R_3, mode=Mode.SUBTRACT)
        with Locations((11.00328, 32.07004)):
            Circle(ESQUISSE1_R_3, mode=Mode.SUBTRACT)
        with Locations((11.00328, 29.53004)):
            Circle(ESQUISSE1_R_3, mode=Mode.SUBTRACT)
        with Locations((11.00328, 26.99004)):
            Circle(ESQUISSE1_R_3, mode=Mode.SUBTRACT)
        with Locations((11.00328, 24.45004)):
            Circle(ESQUISSE1_R_3, mode=Mode.SUBTRACT)
        with Locations((11.00328, 21.91004)):
            Circle(ESQUISSE1_R_3, mode=Mode.SUBTRACT)
        with Locations((15.00124, 38.99916)):
            Circle(ESQUISSE1_R_3, mode=Mode.SUBTRACT)
        with Locations((14.99997, 7.50012)):
            Circle(ESQUISSE1_R_10, mode=Mode.SUBTRACT)
        with Locations((18.80997, 7.50012)):
            Circle(ESQUISSE1_R_11, mode=Mode.SUBTRACT)
    extrude(amount=EXTRUSION1_DEPTH)


solid = part.part
